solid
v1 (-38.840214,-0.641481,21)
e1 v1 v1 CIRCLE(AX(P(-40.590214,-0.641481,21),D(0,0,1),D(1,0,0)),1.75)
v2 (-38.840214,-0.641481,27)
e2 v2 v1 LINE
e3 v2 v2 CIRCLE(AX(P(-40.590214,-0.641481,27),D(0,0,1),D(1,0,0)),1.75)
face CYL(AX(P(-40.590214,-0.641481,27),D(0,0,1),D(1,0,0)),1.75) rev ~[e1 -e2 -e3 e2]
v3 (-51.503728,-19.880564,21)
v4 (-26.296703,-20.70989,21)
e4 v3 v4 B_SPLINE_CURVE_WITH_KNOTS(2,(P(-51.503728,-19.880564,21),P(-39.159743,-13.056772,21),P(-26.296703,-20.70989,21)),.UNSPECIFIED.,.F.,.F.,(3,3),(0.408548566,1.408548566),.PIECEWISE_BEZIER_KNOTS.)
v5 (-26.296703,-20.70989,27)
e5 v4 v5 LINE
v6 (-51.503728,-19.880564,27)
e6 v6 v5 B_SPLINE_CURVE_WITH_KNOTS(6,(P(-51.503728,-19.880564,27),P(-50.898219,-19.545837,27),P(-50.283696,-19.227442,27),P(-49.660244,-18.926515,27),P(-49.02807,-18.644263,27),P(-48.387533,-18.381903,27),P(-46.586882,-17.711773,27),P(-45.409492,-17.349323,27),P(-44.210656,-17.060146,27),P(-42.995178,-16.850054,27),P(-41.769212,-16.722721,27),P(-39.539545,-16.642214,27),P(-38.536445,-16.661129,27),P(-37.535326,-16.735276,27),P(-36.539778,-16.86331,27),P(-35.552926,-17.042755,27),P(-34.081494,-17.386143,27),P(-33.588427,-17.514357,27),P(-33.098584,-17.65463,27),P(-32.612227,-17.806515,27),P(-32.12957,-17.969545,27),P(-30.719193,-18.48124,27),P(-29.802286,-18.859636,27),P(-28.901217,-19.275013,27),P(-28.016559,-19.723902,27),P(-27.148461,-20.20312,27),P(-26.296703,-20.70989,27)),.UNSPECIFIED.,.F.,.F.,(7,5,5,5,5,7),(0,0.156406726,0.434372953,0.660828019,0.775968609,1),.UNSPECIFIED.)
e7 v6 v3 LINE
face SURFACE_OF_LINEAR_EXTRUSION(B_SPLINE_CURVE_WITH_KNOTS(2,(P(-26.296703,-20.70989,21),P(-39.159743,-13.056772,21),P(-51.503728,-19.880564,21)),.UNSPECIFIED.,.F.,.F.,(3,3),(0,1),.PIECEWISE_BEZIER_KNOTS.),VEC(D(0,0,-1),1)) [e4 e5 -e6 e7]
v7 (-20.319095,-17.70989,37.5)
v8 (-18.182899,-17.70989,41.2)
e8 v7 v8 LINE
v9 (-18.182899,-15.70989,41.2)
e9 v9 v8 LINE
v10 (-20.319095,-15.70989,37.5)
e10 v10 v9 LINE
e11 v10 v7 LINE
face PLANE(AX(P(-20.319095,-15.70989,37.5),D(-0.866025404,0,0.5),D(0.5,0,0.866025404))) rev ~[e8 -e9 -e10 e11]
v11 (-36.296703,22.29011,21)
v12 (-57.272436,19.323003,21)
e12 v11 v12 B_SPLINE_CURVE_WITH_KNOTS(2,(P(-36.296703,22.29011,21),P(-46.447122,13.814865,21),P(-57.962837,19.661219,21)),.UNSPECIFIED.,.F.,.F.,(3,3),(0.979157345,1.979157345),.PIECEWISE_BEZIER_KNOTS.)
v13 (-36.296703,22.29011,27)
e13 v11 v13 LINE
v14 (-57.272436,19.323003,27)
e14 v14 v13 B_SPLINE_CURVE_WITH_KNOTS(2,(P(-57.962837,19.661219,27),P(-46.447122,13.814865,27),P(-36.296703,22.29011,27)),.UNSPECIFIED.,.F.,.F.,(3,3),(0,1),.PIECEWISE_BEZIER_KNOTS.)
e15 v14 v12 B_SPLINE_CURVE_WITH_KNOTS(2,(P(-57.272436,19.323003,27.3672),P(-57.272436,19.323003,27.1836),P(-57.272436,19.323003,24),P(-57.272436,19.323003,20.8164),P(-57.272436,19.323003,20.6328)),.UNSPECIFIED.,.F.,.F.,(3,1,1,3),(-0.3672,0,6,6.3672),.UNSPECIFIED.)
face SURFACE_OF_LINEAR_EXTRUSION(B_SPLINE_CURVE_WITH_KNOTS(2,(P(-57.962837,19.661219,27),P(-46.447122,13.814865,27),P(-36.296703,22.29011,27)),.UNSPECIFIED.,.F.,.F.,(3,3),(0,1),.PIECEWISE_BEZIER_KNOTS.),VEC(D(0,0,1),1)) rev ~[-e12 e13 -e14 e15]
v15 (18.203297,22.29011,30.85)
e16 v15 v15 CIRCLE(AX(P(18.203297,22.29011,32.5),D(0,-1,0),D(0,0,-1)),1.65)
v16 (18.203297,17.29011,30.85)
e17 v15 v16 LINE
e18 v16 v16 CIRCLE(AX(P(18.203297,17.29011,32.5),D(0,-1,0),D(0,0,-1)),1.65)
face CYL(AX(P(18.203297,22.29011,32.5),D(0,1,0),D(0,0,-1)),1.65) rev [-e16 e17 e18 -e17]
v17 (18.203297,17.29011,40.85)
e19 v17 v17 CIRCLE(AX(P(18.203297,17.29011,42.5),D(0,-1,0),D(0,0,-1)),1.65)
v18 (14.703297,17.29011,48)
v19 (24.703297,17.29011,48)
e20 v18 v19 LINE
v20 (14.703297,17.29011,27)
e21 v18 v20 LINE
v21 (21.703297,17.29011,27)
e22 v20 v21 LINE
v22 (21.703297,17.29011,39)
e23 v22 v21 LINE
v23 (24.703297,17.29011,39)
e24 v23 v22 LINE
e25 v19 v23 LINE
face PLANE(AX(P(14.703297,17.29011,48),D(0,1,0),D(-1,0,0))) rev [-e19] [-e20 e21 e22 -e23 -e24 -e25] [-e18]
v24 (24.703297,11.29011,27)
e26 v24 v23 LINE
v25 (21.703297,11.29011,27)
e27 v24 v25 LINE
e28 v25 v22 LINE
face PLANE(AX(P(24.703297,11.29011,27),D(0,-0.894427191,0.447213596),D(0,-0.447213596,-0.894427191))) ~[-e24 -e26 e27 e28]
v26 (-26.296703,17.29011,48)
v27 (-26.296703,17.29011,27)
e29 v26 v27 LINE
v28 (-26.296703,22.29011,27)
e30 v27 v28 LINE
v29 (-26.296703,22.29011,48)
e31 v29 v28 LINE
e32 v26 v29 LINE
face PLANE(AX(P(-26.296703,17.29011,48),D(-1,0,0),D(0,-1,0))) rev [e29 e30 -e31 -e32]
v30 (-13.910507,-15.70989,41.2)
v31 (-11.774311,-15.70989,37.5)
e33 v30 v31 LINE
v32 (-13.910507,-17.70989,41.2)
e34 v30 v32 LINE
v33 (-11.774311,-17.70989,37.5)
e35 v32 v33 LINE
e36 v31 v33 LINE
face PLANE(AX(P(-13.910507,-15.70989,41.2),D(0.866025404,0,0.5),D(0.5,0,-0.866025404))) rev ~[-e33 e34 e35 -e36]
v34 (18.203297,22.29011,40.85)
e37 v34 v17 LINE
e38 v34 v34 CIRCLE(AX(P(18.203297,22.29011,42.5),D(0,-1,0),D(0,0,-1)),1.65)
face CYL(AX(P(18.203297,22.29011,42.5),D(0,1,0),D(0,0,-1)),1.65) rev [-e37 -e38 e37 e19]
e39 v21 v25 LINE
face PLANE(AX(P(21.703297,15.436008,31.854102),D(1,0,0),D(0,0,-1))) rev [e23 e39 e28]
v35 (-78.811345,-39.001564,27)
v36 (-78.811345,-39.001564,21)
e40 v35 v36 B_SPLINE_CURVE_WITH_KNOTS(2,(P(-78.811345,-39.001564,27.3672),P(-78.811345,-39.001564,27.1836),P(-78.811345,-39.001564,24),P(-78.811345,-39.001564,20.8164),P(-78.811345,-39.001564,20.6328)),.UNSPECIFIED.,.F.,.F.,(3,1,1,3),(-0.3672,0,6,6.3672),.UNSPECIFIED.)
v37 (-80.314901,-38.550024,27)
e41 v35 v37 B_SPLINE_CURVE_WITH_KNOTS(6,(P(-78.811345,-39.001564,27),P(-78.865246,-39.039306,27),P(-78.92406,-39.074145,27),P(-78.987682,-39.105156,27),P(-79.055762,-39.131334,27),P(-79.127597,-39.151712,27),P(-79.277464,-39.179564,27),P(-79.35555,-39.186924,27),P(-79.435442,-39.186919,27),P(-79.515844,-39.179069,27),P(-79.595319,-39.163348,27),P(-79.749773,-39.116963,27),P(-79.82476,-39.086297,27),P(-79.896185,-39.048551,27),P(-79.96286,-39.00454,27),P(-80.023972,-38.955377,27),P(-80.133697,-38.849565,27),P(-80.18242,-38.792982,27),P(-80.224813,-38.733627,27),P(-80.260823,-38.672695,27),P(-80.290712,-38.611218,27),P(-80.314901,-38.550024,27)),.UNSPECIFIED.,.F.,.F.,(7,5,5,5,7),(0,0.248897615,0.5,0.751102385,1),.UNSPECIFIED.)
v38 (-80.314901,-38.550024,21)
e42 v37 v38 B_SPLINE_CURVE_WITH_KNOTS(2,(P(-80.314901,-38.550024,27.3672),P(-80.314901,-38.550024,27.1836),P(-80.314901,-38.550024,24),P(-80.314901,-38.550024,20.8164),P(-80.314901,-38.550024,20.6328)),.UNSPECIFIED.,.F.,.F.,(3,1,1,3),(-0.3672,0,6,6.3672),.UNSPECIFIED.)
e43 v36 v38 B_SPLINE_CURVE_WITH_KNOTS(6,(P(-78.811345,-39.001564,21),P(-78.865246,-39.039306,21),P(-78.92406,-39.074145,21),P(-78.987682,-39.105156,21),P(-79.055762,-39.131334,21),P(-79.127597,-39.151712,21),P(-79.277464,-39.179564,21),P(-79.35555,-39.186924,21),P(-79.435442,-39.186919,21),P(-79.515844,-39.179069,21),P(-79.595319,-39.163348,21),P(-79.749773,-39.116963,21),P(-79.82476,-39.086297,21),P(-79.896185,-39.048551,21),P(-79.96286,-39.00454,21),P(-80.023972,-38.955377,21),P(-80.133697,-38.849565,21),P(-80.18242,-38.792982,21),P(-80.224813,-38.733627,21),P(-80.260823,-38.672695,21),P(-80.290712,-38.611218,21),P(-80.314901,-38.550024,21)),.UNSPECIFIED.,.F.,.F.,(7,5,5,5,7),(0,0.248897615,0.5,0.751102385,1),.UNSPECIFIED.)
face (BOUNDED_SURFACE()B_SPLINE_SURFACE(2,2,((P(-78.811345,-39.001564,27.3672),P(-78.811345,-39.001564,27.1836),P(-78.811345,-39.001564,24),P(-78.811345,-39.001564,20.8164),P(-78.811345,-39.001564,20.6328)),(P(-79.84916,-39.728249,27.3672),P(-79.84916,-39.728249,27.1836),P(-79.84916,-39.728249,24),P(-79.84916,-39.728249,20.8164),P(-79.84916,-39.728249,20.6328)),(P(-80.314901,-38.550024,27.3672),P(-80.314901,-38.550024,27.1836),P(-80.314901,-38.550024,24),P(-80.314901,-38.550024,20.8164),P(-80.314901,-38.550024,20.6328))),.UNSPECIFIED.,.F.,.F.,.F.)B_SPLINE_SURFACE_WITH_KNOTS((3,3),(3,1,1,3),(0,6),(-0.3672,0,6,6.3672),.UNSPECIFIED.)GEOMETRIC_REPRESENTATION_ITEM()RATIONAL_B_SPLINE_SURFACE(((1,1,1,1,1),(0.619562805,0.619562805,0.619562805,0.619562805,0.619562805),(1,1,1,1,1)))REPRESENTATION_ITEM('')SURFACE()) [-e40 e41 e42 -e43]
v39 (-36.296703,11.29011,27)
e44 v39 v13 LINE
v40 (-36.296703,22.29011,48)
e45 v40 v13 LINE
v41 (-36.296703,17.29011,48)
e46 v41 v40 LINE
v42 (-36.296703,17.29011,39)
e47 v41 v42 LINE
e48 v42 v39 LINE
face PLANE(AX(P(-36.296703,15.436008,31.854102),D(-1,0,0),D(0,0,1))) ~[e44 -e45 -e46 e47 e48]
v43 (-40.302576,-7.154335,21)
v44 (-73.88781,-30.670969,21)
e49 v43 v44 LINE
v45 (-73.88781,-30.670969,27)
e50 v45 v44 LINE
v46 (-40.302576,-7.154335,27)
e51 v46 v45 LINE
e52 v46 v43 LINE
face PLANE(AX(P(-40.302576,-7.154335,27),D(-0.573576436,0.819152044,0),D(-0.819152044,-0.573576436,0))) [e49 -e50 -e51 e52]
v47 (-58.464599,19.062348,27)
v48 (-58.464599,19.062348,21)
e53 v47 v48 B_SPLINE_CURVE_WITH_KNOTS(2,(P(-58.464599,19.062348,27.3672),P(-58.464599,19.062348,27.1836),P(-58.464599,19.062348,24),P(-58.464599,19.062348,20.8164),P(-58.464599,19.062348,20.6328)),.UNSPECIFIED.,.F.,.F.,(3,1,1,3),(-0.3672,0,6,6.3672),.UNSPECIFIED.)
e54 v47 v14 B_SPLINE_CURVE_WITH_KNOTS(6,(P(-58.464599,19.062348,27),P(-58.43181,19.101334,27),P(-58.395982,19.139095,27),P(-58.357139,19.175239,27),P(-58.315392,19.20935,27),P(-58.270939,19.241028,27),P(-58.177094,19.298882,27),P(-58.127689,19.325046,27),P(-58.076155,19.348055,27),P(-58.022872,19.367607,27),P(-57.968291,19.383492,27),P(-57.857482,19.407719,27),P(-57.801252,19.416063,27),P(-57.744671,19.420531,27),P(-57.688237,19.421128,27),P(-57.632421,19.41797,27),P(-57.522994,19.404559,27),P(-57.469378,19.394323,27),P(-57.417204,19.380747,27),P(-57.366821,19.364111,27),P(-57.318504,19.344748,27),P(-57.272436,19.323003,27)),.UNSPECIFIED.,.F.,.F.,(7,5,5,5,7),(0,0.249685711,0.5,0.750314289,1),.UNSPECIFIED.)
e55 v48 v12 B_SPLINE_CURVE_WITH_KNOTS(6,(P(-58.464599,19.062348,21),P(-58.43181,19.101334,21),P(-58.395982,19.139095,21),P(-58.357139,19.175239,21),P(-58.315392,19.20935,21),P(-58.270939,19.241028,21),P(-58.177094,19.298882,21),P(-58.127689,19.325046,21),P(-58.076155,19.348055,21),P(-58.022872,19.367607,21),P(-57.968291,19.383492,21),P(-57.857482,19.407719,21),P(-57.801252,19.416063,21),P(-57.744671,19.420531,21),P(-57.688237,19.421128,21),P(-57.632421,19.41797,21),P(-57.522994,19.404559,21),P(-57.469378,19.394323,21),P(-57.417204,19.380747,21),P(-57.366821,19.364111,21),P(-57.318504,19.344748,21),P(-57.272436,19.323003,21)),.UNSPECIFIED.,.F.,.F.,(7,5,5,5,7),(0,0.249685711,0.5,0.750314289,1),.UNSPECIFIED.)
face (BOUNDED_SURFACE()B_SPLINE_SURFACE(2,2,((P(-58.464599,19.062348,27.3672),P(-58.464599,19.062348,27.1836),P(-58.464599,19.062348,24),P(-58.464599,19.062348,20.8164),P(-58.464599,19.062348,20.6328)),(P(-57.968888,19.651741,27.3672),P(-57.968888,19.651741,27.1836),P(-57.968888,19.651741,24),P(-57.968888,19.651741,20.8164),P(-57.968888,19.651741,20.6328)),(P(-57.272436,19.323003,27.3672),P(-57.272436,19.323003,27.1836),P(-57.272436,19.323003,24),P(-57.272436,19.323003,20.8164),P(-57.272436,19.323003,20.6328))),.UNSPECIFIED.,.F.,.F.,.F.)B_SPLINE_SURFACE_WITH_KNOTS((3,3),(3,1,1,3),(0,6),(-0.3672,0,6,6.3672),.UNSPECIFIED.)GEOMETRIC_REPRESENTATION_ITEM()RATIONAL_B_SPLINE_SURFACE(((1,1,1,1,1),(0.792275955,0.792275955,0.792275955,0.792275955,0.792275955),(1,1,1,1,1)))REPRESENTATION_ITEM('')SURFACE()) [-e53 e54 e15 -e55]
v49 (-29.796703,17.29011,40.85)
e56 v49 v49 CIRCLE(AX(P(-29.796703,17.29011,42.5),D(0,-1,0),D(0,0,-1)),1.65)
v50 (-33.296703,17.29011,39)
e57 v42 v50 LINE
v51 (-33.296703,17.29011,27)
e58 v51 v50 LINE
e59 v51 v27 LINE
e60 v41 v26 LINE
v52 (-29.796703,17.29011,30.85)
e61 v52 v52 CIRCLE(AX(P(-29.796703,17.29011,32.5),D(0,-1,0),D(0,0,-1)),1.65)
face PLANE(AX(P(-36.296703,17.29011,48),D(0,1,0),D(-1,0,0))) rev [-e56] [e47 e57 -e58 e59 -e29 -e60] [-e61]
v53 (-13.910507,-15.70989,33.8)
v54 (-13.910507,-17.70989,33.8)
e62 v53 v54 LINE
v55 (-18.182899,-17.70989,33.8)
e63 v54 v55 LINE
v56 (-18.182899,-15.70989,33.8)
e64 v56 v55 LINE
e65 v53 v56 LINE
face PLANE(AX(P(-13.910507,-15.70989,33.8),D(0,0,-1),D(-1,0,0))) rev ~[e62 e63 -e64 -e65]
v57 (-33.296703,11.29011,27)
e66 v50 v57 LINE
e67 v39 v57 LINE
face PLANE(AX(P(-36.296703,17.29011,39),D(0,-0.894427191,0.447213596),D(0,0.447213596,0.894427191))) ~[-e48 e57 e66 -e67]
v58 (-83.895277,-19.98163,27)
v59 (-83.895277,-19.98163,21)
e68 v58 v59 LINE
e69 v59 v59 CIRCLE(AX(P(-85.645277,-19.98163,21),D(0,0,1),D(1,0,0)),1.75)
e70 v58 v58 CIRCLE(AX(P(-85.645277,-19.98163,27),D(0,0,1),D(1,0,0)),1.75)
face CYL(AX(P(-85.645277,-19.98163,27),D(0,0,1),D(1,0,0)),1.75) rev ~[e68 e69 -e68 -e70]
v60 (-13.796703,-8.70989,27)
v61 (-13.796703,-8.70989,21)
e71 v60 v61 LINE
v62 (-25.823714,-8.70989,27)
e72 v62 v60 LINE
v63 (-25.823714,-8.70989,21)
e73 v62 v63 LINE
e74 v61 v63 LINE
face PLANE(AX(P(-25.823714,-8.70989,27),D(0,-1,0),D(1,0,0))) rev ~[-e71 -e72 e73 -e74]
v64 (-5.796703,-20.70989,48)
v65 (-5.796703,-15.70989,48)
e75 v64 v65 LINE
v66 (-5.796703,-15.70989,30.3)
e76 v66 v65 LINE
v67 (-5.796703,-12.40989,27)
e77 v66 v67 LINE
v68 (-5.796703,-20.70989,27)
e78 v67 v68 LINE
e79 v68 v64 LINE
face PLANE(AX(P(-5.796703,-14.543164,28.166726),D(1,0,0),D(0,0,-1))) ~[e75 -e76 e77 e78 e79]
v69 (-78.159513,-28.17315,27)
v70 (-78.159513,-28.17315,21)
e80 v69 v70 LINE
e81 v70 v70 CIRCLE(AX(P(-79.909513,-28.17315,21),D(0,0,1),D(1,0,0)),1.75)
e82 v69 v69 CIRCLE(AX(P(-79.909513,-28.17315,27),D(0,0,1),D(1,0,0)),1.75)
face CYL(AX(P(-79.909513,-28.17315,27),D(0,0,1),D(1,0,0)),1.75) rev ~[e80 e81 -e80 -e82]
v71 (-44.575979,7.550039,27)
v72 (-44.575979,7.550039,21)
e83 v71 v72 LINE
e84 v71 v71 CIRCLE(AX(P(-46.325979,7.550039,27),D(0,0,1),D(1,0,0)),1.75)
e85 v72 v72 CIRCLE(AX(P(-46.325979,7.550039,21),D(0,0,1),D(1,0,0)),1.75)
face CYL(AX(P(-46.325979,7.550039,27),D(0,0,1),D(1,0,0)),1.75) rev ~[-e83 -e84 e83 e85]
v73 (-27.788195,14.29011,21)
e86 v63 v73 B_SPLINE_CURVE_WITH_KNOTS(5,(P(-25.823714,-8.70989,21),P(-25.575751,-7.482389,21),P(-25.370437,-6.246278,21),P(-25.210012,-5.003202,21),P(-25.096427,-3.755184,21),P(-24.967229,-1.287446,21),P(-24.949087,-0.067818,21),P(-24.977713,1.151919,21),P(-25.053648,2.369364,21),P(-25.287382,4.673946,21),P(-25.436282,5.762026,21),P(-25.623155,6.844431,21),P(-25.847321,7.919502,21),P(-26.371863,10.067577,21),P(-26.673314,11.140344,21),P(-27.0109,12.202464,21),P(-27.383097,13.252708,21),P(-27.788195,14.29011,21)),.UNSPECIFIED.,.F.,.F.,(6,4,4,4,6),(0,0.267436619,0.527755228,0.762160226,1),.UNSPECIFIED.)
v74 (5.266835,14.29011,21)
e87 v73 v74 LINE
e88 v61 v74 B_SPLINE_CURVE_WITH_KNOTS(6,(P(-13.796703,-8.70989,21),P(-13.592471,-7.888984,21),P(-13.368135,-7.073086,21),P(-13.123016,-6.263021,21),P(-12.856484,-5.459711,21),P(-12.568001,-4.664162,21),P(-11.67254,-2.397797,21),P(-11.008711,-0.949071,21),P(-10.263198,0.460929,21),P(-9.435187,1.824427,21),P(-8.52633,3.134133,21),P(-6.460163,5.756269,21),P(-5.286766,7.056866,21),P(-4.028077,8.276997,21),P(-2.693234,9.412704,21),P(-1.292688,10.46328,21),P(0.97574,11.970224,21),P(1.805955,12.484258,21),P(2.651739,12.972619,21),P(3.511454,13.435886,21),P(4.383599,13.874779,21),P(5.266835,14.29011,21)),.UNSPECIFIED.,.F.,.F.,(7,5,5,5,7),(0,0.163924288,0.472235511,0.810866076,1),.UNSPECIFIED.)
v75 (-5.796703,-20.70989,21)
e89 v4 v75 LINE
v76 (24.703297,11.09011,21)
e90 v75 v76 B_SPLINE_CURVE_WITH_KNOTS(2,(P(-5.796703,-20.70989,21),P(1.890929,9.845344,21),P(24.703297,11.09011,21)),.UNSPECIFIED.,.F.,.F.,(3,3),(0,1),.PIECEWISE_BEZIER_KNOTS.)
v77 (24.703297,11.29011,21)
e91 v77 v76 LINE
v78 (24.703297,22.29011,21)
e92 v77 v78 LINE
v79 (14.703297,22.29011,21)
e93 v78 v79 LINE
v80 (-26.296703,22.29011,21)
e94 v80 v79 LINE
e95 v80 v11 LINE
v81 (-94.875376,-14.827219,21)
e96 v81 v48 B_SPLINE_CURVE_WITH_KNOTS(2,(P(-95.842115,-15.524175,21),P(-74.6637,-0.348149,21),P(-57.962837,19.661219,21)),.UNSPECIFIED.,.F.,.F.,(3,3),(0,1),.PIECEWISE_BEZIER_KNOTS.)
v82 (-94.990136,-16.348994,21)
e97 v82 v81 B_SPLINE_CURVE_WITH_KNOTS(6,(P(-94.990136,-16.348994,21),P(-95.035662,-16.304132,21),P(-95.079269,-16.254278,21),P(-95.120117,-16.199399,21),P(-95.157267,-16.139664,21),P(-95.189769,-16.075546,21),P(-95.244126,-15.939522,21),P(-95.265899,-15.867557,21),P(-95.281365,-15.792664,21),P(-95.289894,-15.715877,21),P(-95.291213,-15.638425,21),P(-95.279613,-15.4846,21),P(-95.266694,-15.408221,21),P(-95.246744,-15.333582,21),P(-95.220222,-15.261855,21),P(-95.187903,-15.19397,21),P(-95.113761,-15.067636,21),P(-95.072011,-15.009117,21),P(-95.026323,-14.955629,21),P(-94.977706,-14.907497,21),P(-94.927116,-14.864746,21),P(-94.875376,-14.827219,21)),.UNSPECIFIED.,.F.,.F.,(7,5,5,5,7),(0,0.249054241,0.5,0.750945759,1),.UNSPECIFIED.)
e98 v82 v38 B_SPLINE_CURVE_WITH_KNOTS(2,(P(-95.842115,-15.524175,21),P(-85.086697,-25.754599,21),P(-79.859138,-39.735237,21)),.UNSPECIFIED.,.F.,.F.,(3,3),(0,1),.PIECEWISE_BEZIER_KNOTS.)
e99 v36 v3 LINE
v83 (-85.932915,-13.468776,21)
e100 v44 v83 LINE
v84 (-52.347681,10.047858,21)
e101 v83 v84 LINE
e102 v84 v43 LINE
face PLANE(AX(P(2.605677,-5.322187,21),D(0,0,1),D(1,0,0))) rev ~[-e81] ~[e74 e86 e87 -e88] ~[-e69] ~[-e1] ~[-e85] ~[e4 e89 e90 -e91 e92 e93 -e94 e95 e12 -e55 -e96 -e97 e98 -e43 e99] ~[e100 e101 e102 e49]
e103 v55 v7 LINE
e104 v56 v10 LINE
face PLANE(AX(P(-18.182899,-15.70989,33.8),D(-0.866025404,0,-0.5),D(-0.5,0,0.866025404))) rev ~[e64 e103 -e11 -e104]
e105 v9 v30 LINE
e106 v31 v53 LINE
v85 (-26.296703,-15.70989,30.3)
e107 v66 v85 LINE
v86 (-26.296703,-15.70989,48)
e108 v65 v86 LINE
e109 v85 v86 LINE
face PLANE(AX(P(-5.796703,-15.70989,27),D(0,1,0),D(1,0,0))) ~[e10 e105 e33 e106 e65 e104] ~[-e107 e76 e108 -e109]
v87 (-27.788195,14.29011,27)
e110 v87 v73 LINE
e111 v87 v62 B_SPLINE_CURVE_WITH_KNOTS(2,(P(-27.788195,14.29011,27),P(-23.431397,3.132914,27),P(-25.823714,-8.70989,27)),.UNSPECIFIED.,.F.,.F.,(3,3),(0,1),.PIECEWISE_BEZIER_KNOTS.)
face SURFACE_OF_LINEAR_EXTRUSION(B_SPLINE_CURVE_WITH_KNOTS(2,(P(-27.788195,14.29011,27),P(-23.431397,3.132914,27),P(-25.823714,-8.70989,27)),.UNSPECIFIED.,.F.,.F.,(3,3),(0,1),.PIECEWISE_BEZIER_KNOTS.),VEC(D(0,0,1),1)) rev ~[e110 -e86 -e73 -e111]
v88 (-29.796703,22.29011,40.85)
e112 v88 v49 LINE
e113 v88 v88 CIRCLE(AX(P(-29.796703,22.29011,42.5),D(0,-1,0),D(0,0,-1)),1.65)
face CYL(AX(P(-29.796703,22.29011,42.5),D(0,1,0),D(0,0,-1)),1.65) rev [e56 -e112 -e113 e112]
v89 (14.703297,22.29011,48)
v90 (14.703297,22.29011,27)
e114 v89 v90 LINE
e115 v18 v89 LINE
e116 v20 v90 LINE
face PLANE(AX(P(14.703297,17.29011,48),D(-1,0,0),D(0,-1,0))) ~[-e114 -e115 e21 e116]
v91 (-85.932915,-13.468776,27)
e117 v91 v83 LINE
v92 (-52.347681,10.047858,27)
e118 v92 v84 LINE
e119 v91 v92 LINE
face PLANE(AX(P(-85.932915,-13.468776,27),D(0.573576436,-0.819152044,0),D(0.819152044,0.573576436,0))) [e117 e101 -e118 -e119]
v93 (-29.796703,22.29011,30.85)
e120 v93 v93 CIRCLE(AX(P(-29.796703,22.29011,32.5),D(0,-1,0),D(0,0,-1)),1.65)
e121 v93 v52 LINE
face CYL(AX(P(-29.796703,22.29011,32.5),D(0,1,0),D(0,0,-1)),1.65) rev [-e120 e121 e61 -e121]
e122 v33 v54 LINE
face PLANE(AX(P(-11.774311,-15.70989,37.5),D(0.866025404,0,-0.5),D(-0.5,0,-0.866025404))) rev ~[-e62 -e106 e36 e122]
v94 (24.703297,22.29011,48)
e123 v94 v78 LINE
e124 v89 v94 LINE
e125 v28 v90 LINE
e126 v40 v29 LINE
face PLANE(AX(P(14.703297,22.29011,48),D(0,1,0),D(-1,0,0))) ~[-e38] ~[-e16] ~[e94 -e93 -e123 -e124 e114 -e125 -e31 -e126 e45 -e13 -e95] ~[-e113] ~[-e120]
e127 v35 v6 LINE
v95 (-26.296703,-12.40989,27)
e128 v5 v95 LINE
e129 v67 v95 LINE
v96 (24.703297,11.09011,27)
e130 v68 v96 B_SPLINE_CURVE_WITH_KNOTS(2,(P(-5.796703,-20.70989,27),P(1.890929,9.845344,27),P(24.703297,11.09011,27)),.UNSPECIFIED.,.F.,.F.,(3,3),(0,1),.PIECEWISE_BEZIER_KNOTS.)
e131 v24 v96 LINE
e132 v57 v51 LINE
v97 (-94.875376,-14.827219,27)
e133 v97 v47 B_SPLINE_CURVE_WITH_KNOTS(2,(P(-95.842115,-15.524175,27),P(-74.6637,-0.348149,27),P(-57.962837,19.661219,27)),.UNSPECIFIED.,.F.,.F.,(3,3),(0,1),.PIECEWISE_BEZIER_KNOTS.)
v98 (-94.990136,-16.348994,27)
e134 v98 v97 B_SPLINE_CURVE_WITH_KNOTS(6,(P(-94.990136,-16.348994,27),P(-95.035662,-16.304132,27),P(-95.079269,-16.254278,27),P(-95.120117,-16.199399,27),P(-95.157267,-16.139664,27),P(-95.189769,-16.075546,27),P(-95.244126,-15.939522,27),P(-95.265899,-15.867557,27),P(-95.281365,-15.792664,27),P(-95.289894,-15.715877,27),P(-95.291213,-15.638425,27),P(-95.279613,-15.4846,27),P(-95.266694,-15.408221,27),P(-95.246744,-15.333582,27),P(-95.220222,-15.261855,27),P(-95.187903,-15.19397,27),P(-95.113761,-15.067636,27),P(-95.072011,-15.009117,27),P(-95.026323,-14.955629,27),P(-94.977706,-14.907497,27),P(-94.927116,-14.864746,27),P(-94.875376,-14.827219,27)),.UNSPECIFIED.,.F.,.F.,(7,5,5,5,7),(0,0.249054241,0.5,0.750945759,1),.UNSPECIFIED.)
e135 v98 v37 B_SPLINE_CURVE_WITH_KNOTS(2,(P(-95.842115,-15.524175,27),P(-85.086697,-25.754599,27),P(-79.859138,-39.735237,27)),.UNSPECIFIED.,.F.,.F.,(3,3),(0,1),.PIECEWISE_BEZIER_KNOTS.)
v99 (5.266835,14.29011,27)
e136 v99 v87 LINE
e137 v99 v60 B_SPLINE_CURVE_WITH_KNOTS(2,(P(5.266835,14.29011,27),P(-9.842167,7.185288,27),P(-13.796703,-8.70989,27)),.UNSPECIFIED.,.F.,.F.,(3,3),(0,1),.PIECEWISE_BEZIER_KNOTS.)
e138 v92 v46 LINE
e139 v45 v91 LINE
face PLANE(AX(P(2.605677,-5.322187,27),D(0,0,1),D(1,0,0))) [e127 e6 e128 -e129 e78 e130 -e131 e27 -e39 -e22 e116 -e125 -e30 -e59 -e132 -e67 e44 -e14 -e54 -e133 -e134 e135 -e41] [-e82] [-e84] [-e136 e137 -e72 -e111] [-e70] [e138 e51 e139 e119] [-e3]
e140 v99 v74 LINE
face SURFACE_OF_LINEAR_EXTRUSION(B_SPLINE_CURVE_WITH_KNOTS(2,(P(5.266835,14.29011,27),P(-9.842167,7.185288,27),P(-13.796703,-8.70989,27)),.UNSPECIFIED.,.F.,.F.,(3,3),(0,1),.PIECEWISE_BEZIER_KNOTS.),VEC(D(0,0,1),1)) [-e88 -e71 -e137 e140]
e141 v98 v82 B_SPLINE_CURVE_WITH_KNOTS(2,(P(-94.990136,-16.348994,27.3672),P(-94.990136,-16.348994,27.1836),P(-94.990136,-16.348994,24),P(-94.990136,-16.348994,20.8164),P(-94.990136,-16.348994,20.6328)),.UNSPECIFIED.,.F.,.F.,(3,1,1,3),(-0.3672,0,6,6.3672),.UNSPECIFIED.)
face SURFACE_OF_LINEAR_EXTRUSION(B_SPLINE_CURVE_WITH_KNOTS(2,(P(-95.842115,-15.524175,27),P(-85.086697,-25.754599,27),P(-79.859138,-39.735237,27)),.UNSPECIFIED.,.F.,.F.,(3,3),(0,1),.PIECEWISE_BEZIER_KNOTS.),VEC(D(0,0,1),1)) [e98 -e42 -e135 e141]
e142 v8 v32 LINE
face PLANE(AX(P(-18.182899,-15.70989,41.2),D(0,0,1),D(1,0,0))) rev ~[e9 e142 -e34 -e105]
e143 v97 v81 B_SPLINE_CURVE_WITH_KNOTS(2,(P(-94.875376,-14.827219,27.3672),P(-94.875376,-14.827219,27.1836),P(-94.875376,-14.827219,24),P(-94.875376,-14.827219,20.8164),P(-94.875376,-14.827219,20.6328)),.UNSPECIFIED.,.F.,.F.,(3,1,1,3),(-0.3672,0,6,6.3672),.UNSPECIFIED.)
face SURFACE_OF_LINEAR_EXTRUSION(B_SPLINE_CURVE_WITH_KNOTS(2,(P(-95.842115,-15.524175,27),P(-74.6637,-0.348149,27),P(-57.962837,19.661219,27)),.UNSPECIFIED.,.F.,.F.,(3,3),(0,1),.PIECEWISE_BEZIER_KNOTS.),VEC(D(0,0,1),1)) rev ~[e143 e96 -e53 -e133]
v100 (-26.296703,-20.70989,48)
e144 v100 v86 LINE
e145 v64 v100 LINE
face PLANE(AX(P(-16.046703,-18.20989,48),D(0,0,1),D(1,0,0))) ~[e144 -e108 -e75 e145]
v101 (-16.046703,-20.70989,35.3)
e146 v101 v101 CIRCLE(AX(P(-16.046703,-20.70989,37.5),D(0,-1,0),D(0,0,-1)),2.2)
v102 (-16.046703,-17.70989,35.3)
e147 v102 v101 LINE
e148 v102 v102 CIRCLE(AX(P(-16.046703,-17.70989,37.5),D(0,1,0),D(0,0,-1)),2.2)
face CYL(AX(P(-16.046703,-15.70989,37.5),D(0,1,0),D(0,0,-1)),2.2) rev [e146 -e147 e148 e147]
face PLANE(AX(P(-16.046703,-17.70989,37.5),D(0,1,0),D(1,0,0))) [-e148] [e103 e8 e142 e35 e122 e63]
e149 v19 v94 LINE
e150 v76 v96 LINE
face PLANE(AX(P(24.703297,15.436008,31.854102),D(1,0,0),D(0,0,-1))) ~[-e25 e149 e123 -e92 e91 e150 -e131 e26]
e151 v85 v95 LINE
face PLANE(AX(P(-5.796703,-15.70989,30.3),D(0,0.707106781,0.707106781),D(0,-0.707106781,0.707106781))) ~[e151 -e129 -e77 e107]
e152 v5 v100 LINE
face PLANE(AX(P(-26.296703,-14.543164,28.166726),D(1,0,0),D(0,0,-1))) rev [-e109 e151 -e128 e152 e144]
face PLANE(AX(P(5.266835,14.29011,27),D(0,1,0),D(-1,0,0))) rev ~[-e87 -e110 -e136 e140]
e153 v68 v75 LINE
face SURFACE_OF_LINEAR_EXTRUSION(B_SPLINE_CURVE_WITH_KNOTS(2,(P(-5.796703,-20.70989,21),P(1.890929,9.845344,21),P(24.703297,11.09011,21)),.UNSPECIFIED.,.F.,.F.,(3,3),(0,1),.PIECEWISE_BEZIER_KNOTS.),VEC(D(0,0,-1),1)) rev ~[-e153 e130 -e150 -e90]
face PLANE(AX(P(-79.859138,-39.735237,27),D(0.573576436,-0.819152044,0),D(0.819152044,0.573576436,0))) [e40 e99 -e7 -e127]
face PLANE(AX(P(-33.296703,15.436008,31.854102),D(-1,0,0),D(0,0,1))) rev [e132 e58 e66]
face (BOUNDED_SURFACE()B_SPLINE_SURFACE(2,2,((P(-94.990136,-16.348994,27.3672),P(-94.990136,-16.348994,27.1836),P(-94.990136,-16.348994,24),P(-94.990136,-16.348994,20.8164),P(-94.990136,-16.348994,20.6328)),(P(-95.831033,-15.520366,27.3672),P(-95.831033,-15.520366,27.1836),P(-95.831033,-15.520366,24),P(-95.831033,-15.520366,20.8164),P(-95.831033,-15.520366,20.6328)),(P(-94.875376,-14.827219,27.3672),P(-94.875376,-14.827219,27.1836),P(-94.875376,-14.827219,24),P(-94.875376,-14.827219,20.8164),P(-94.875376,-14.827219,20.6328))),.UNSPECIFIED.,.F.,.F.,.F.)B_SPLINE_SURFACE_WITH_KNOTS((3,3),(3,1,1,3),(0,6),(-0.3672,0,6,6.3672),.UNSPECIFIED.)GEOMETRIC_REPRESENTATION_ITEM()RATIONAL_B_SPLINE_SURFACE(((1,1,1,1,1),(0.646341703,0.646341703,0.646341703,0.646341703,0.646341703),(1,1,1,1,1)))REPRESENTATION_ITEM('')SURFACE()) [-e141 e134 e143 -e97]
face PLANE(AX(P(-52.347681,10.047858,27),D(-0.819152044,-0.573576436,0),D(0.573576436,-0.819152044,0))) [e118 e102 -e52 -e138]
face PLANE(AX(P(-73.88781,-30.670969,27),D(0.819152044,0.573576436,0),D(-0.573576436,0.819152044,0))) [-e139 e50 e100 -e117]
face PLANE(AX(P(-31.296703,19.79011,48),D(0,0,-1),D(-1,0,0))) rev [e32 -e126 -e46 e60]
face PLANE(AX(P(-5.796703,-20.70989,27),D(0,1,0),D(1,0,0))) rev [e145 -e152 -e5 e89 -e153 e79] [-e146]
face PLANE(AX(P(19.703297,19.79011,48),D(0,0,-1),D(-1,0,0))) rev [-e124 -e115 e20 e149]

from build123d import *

# Parameters (mm, degrees)
SKETCH1_W             = 10
SKETCH1_H             = 5
BOSS_EXTRUDE1_DEPTH   = 21
BOSS_EXTRUDE1_2_DEPTH = 21
BOSS_EXTRUDE2_DEPTH   = 6
SKETCH3_W             = 20.5
SKETCH3_H             = 5
BOSS_EXTRUDE3_DEPTH   = 21
CUT_EXTRUDE1_REACH    = 64.414
SKETCH4_R             = 1.65
CUT_EXTRUDE2_REACH    = 61.08
SKETCH5_R             = 2.2
SKETCH6_R             = 1.75
BOSS_EXTRUDE4_DEPTH   = 6
CUT_EXTRUDE3_REACH    = 107.857
CUT_EXTRUDE7_REACH    = 109.208
BOSS_EXTRUDE5_DEPTH   = 6
BOSS_EXTRUDE6_DEPTH   = 3
BOSS_EXTRUDE7_DEPTH   = 3
BOSS_EXTRUDE8_DEPTH   = 20.5
SKETCH16_W            = 61.423716469
SKETCH16_H            = 45.352356837
CUT_EXTRUDE8_DEPTH    = 21
CUT_EXTRUDE9_DEPTH    = 6
FILLET1_R             = 1
CUT_EXTRUDE10_DEPTH   = 2


with BuildPart() as part:
    # Sketch1 → Boss-Extrude1 (new body)
    with BuildSketch(Plane.XY):
        with Locations((-31.296703297, 19.79010989)):
            Rectangle(SKETCH1_W, SKETCH1_H)
    boss_extrude1 = extrude(amount=BOSS_EXTRUDE1_DEPTH)



with BuildPart() as body_2:
    # Sketch1 → Boss-Extrude1 2 (new body)
    with BuildSketch(Plane.XY):
        with Locations((19.703296703, 19.79010989)):
            Rectangle(SKETCH1_W, SKETCH1_H)
    boss_extrude1_2 = extrude(amount=BOSS_EXTRUDE1_2_DEPTH)


with BuildPart() as part_1:
    add(part.part)

    add(body_2.part)  # Boss-Extrude2 merges body 2
    # Sketch2 → Boss-Extrude2 (add)
    with BuildSketch(Plane.XY.offset(21)):
        Polygon((-36.296703297, 22.29010989), (24.703296703, 22.29010989), (24.703296703, 7.29010989), (12.703296703, 7.29010989), (-5.796703297, -11.20989011), (-5.796703297, -20.70989011), (-36.296703297, -20.70989011), align=None)
    extrude(amount=BOSS_EXTRUDE2_DEPTH)

    # Sketch3 → Boss-Extrude3 (add)
    with BuildSketch(Plane(origin=(0, 0, 21), x_dir=(-1, 0, 0), z_dir=(0, 0, -1))):
        with Locations((16.046703297, -18.20989011)):
            Rectangle(SKETCH3_W, SKETCH3_H)
    boss_extrude3 = extrude(amount=BOSS_EXTRUDE3_DEPTH)

    # Sketch4 → Cut-Extrude1 (cut, up to next)
    with BuildSketch(Plane(origin=(0, 22.29010989, 0), x_dir=(1, 0, 0), z_dir=(0, 1, 0)), mode=Mode.PRIVATE) as cut_extrude1_sk1:
        with Locations(Location((-29.796703297, -5.5, 0), (0, 0, 270))):
            Circle(SKETCH4_R)
    cut_extrude1_tool1 = extrude(cut_extrude1_sk1.sketch, amount=-CUT_EXTRUDE1_REACH, mode=Mode.PRIVATE) & part_1.part
    # Sketch4 → Cut-Extrude1 (cut, up to next)
    with BuildSketch(Plane(origin=(0, 22.29010989, 0), x_dir=(1, 0, 0), z_dir=(0, 1, 0)), mode=Mode.PRIVATE) as cut_extrude1_sk2:
        with Locations(Location((18.203296703, -5.5, 0), (0, 0, 270))):
            Circle(SKETCH4_R)
    cut_extrude1_tool2 = extrude(cut_extrude1_sk2.sketch, amount=-CUT_EXTRUDE1_REACH, mode=Mode.PRIVATE) & part_1.part
    # Sketch4 → Cut-Extrude1 (cut, up to next)
    with BuildSketch(Plane(origin=(0, 22.29010989, 0), x_dir=(1, 0, 0), z_dir=(0, 1, 0)), mode=Mode.PRIVATE) as cut_extrude1_sk3:
        with Locations(Location((18.203296703, -15.5, 0), (0, 0, 270))):
            Circle(SKETCH4_R)
    cut_extrude1_tool3 = extrude(cut_extrude1_sk3.sketch, amount=-CUT_EXTRUDE1_REACH, mode=Mode.PRIVATE) & part_1.part
    # Sketch4 → Cut-Extrude1 (cut, up to next)
    with BuildSketch(Plane(origin=(0, 22.29010989, 0), x_dir=(1, 0, 0), z_dir=(0, 1, 0)), mode=Mode.PRIVATE) as cut_extrude1_sk4:
        with Locations(Location((-29.796703297, -15.5, 0), (0, 0, 270))):
            Circle(SKETCH4_R)
    cut_extrude1_tool4 = extrude(cut_extrude1_sk4.sketch, amount=-CUT_EXTRUDE1_REACH, mode=Mode.PRIVATE) & part_1.part
    cut_extrude1_1 = cut_extrude1_tool1.solids().sort_by_distance((-29.796703, 22.29011, 5.5))[0]
    add(cut_extrude1_1, mode=Mode.SUBTRACT)
    cut_extrude1_2 = cut_extrude1_tool2.solids().sort_by_distance((18.203297, 22.29011, 5.5))[0]
    add(cut_extrude1_2, mode=Mode.SUBTRACT)
    cut_extrude1_3 = cut_extrude1_tool3.solids().sort_by_distance((18.203297, 22.29011, 15.5))[0]
    add(cut_extrude1_3, mode=Mode.SUBTRACT)
    cut_extrude1_4 = cut_extrude1_tool4.solids().sort_by_distance((-29.796703, 22.29011, 15.5))[0]
    add(cut_extrude1_4, mode=Mode.SUBTRACT)
    cut_extrude1 = cut_extrude1_1 + cut_extrude1_2 + cut_extrude1_3 + cut_extrude1_4  # Cut-Extrude1 as one shape, for the pattern or mirror that repeats it

    # Sketch5 → Cut-Extrude2 (cut, up to next)
    with BuildSketch(Plane(origin=(0, -15.70989011, 0), x_dir=(1, 0, 0), z_dir=(0, 1, 0)), mode=Mode.PRIVATE) as cut_extrude2_sk1:
        with Locations(Location((-16.046703297, -10.5, 0), (0, 0, 270))):
            Circle(SKETCH5_R)
    cut_extrude2_tool1 = extrude(cut_extrude2_sk1.sketch, amount=-CUT_EXTRUDE2_REACH, mode=Mode.PRIVATE) & part_1.part
    cut_extrude2 = cut_extrude2_tool1.solids().sort_by_distance((-16.046703, -15.70989, 10.5))[0]
    add(cut_extrude2, mode=Mode.SUBTRACT)

    # Sketch6 → Boss-Extrude4 (add)
    with BuildSketch(Plane.XY.offset(27)):
        with BuildLine():
            Line((-79.859138265, -39.735236509), (-51.503727763, -19.880564327))
            add(Edge.make_bspline(
                [(-51.503727763, -19.880564327), (-43.777944292, -18.491061957), (-36.296703297, -20.70989011)],
                knots=[0, 0, 0, 1, 1, 1], degree=2))
            Line((-36.296703297, -20.70989011), (-36.296703297, 22.29010989))
            add(Edge.make_bspline(
                [(-57.962836939, 19.661219133), (-46.447122218, 13.814864777), (-36.296703297, 22.29010989)],
                knots=[0, 0, 0, 1, 1, 1], degree=2))
            add(Edge.make_bspline(
                [(-95.842115451, -15.524174544), (-74.663700283, -0.348148579), (-57.962836939, 19.661219133)],
                knots=[0, 0, 0, 1, 1, 1], degree=2))
            add(Edge.make_bspline(
                [(-95.842115451, -15.524174544), (-85.086697095, -25.754599345), (-79.859138265, -39.735236509)],
                knots=[0, 0, 0, 1, 1, 1], degree=2))
        make_face()
        with Locations((-40.590214383, -0.641481396)):
            Circle(SKETCH6_R, mode=Mode.SUBTRACT)
        with Locations((-85.645276872, -19.981629898)):
            Circle(SKETCH6_R, mode=Mode.SUBTRACT)
        with Locations((-79.909512508, -28.173150341)):
            Circle(SKETCH6_R, mode=Mode.SUBTRACT)
        with Locations((-46.325978746, 7.550039047)):
            Circle(SKETCH6_R, mode=Mode.SUBTRACT)
        Polygon((-85.932915117, -13.468776127), (-52.347681301, 10.047857763), (-40.302576138, -7.154335167), (-73.887809953, -30.670969058), align=None, mode=Mode.SUBTRACT)
    extrude(amount=-BOSS_EXTRUDE4_DEPTH)

    # Sketch7 → Cut-Extrude3 (cut, up to next)
    with BuildSketch(Plane(origin=(0, 0, 21), x_dir=(-1, 0, 0), z_dir=(0, 0, -1)), mode=Mode.PRIVATE) as cut_extrude3_sk1:
        with BuildLine():
            Line((36.296703297, -20.70989011), (26.296703297, -20.70989011))
            add(Edge.make_bspline(
                [(26.296703297, -20.70989011), (39.15974316, -13.056772406), (51.503727763, -19.880564327)],
                knots=[0, 0, 0, 1, 1, 1], degree=2))
            add(Edge.make_bspline(
                [(51.503727763, -19.880564327), (43.777944292, -18.491061957), (36.296703297, -20.70989011)],
                knots=[0, 0, 0, 1, 1, 1], degree=2))
        make_face()
    cut_extrude3_tool1 = extrude(cut_extrude3_sk1.sketch, amount=-CUT_EXTRUDE3_REACH, mode=Mode.PRIVATE) & part_1.part
    add(cut_extrude3_tool1.solids().sort_by_distance((-38.072503, -18.786508, 21))[0], mode=Mode.SUBTRACT)

    # Sketch10 → Cut-Extrude7 (cut, up to next)
    with BuildSketch(Plane.XY.offset(27), mode=Mode.PRIVATE) as cut_extrude7_sk1:
        with BuildLine():
            Line((5.266834936, 14.29010989), (-27.788194587, 14.29010989))
            add(Edge.make_bspline(
                [(-27.788194587, 14.29010989), (-23.431396766, 3.132914333), (-25.823714091, -8.70989011)],
                knots=[0, 0, 0, 1, 1, 1], degree=2))
            Line((-25.823714091, -8.70989011), (-13.796703297, -8.70989011))
            add(Edge.make_bspline(
                [(5.266834936, 14.29010989), (-9.842167425, 7.185288479), (-13.796703297, -8.70989011)],
                knots=[0, 0, 0, 1, 1, 1], degree=2))
        make_face()
    cut_extrude7_tool1 = extrude(cut_extrude7_sk1.sketch, amount=-CUT_EXTRUDE7_REACH, mode=Mode.PRIVATE) & part_1.part
    add(cut_extrude7_tool1.solids().sort_by_distance((-15.764918, 4.836925, 27))[0], mode=Mode.SUBTRACT)

    # Sketch11 → Boss-Extrude5 (add)
    with BuildSketch(Plane.XY.offset(27)):
        with BuildLine():
            Line((15.119169314, 7.29010989), (12.703296703, 7.29010989))
            Line((12.703296703, 7.29010989), (-5.796703297, -11.20989011))
            Line((-5.796703297, -11.20989011), (-5.796703297, -20.70989011))
            add(Edge.make_bspline(
                [(-5.796703297, -20.70989011), (-0.06692684, -3.022661062), (15.119169314, 7.29010989)],
                knots=[0, 0, 0, 1, 1, 1], degree=2))
        make_face()
    extrude(amount=-BOSS_EXTRUDE5_DEPTH)

    # Sketch12 → Boss-Extrude6 (add)
    with BuildSketch(Plane(origin=(24.703296703, 0, 0), x_dir=(0, 0, -1), z_dir=(1, 0, 0))):
        Polygon((-21, 11.29010989), (-9, 17.29010989), (-21, 17.29010989), align=None)
    boss_extrude6 = extrude(amount=-BOSS_EXTRUDE6_DEPTH)

    # Sketch13 → Boss-Extrude7 (add)
    with BuildSketch(Plane.ZY.offset(36.296703297)):
        Polygon((21, 11.29010989), (21, 17.29010989), (9, 17.29010989), align=None)
    boss_extrude7 = extrude(amount=-BOSS_EXTRUDE7_DEPTH)

    # Sketch14 → Boss-Extrude8 (add)
    with BuildSketch(Plane(origin=(-5.796703297, 0, 0), x_dir=(0, 0, -1), z_dir=(1, 0, 0))):
        Polygon((-17.7, -15.70989011), (-21, -12.40989011), (-21, -15.70989011), align=None)
    boss_extrude8 = extrude(amount=-BOSS_EXTRUDE8_DEPTH)

    # Mirror1: Boss-Extrude1, Boss-Extrude1 2, Boss-Extrude3, Cut-Extrude1, Cut-Extrude2, Boss-Extrude6, Boss-Extrude7, Boss-Extrude8 across plane
    add(boss_extrude1.mirror(Plane(origin=(0, 0, 24), x_dir=(1, 0, 0), z_dir=(0, 0, -1))))
    add(boss_extrude1_2.mirror(Plane(origin=(0, 0, 24), x_dir=(1, 0, 0), z_dir=(0, 0, -1))))
    add(boss_extrude3.mirror(Plane(origin=(0, 0, 24), x_dir=(1, 0, 0), z_dir=(0, 0, -1))))
    add(cut_extrude1.mirror(Plane(origin=(0, 0, 24), x_dir=(1, 0, 0), z_dir=(0, 0, -1))), mode=Mode.SUBTRACT)
    add(cut_extrude2.mirror(Plane(origin=(0, 0, 24), x_dir=(1, 0, 0), z_dir=(0, 0, -1))), mode=Mode.SUBTRACT)
    add(boss_extrude6.mirror(Plane(origin=(0, 0, 24), x_dir=(1, 0, 0), z_dir=(0, 0, -1))))
    add(boss_extrude7.mirror(Plane(origin=(0, 0, 24), x_dir=(1, 0, 0), z_dir=(0, 0, -1))))
    add(boss_extrude8.mirror(Plane(origin=(0, 0, 24), x_dir=(1, 0, 0), z_dir=(0, 0, -1))))

    # Sketch16 → Cut-Extrude8 (cut)
    with BuildSketch(Plane(origin=(0, 0, 0), x_dir=(-1, 0, 0), z_dir=(0, 0, -1))):
        with Locations((6.008561531, -0.386068529)):
            Rectangle(SKETCH16_W, SKETCH16_H)
    extrude(amount=-CUT_EXTRUDE8_DEPTH, mode=Mode.SUBTRACT)

    # Sketch17 → Cut-Extrude9 (cut)
    with BuildSketch(Plane(origin=(0, 0, 21), x_dir=(-1, 0, 0), z_dir=(0, 0, -1))):
        with BuildLine():
            Line((-24.703296703, 7.29010989), (-24.703296703, 11.09010989))
            add(Edge.make_bspline(
                [(5.796703297, -20.70989011), (-1.890928929, 9.845343686), (-24.703296703, 11.09010989)],
                knots=[0, 0, 0, 1, 1, 1], degree=2))
            add(Edge.make_bspline(
                [(5.796703297, -20.70989011), (0.06692684, -3.022661062), (-15.119169314, 7.29010989)],
                knots=[0, 0, 0, 1, 1, 1], degree=2))
            Line((-15.119169314, 7.29010989), (-24.703296703, 7.29010989))
        make_face()
    extrude(amount=-CUT_EXTRUDE9_DEPTH, mode=Mode.SUBTRACT)

    # Fillet1
    fillet1_edges = [part_1.edges().sort_by_distance(p)[0] for p in [
        (-79.859138265, -39.735236509, 24),
        (-95.842115451, -15.524174544, 24),
        (-57.962836939, 19.661219133, 24),
    ]]
    fillet(fillet1_edges, radius=FILLET1_R)

    # Sketch18 → Cut-Extrude10 (cut)
    with BuildSketch(Plane(origin=(0, -15.70989011, 0), x_dir=(1, 0, 0), z_dir=(0, 1, 0))):
        Polygon((-18.182899293, -41.2), (-13.910507301, -41.2), (-11.774311305, -37.5), (-13.910507301, -33.8), (-18.182899293, -33.8), (-20.319095289, -37.5), align=None)
    extrude(amount=-CUT_EXTRUDE10_DEPTH, mode=Mode.SUBTRACT)


solid = part_1.part
